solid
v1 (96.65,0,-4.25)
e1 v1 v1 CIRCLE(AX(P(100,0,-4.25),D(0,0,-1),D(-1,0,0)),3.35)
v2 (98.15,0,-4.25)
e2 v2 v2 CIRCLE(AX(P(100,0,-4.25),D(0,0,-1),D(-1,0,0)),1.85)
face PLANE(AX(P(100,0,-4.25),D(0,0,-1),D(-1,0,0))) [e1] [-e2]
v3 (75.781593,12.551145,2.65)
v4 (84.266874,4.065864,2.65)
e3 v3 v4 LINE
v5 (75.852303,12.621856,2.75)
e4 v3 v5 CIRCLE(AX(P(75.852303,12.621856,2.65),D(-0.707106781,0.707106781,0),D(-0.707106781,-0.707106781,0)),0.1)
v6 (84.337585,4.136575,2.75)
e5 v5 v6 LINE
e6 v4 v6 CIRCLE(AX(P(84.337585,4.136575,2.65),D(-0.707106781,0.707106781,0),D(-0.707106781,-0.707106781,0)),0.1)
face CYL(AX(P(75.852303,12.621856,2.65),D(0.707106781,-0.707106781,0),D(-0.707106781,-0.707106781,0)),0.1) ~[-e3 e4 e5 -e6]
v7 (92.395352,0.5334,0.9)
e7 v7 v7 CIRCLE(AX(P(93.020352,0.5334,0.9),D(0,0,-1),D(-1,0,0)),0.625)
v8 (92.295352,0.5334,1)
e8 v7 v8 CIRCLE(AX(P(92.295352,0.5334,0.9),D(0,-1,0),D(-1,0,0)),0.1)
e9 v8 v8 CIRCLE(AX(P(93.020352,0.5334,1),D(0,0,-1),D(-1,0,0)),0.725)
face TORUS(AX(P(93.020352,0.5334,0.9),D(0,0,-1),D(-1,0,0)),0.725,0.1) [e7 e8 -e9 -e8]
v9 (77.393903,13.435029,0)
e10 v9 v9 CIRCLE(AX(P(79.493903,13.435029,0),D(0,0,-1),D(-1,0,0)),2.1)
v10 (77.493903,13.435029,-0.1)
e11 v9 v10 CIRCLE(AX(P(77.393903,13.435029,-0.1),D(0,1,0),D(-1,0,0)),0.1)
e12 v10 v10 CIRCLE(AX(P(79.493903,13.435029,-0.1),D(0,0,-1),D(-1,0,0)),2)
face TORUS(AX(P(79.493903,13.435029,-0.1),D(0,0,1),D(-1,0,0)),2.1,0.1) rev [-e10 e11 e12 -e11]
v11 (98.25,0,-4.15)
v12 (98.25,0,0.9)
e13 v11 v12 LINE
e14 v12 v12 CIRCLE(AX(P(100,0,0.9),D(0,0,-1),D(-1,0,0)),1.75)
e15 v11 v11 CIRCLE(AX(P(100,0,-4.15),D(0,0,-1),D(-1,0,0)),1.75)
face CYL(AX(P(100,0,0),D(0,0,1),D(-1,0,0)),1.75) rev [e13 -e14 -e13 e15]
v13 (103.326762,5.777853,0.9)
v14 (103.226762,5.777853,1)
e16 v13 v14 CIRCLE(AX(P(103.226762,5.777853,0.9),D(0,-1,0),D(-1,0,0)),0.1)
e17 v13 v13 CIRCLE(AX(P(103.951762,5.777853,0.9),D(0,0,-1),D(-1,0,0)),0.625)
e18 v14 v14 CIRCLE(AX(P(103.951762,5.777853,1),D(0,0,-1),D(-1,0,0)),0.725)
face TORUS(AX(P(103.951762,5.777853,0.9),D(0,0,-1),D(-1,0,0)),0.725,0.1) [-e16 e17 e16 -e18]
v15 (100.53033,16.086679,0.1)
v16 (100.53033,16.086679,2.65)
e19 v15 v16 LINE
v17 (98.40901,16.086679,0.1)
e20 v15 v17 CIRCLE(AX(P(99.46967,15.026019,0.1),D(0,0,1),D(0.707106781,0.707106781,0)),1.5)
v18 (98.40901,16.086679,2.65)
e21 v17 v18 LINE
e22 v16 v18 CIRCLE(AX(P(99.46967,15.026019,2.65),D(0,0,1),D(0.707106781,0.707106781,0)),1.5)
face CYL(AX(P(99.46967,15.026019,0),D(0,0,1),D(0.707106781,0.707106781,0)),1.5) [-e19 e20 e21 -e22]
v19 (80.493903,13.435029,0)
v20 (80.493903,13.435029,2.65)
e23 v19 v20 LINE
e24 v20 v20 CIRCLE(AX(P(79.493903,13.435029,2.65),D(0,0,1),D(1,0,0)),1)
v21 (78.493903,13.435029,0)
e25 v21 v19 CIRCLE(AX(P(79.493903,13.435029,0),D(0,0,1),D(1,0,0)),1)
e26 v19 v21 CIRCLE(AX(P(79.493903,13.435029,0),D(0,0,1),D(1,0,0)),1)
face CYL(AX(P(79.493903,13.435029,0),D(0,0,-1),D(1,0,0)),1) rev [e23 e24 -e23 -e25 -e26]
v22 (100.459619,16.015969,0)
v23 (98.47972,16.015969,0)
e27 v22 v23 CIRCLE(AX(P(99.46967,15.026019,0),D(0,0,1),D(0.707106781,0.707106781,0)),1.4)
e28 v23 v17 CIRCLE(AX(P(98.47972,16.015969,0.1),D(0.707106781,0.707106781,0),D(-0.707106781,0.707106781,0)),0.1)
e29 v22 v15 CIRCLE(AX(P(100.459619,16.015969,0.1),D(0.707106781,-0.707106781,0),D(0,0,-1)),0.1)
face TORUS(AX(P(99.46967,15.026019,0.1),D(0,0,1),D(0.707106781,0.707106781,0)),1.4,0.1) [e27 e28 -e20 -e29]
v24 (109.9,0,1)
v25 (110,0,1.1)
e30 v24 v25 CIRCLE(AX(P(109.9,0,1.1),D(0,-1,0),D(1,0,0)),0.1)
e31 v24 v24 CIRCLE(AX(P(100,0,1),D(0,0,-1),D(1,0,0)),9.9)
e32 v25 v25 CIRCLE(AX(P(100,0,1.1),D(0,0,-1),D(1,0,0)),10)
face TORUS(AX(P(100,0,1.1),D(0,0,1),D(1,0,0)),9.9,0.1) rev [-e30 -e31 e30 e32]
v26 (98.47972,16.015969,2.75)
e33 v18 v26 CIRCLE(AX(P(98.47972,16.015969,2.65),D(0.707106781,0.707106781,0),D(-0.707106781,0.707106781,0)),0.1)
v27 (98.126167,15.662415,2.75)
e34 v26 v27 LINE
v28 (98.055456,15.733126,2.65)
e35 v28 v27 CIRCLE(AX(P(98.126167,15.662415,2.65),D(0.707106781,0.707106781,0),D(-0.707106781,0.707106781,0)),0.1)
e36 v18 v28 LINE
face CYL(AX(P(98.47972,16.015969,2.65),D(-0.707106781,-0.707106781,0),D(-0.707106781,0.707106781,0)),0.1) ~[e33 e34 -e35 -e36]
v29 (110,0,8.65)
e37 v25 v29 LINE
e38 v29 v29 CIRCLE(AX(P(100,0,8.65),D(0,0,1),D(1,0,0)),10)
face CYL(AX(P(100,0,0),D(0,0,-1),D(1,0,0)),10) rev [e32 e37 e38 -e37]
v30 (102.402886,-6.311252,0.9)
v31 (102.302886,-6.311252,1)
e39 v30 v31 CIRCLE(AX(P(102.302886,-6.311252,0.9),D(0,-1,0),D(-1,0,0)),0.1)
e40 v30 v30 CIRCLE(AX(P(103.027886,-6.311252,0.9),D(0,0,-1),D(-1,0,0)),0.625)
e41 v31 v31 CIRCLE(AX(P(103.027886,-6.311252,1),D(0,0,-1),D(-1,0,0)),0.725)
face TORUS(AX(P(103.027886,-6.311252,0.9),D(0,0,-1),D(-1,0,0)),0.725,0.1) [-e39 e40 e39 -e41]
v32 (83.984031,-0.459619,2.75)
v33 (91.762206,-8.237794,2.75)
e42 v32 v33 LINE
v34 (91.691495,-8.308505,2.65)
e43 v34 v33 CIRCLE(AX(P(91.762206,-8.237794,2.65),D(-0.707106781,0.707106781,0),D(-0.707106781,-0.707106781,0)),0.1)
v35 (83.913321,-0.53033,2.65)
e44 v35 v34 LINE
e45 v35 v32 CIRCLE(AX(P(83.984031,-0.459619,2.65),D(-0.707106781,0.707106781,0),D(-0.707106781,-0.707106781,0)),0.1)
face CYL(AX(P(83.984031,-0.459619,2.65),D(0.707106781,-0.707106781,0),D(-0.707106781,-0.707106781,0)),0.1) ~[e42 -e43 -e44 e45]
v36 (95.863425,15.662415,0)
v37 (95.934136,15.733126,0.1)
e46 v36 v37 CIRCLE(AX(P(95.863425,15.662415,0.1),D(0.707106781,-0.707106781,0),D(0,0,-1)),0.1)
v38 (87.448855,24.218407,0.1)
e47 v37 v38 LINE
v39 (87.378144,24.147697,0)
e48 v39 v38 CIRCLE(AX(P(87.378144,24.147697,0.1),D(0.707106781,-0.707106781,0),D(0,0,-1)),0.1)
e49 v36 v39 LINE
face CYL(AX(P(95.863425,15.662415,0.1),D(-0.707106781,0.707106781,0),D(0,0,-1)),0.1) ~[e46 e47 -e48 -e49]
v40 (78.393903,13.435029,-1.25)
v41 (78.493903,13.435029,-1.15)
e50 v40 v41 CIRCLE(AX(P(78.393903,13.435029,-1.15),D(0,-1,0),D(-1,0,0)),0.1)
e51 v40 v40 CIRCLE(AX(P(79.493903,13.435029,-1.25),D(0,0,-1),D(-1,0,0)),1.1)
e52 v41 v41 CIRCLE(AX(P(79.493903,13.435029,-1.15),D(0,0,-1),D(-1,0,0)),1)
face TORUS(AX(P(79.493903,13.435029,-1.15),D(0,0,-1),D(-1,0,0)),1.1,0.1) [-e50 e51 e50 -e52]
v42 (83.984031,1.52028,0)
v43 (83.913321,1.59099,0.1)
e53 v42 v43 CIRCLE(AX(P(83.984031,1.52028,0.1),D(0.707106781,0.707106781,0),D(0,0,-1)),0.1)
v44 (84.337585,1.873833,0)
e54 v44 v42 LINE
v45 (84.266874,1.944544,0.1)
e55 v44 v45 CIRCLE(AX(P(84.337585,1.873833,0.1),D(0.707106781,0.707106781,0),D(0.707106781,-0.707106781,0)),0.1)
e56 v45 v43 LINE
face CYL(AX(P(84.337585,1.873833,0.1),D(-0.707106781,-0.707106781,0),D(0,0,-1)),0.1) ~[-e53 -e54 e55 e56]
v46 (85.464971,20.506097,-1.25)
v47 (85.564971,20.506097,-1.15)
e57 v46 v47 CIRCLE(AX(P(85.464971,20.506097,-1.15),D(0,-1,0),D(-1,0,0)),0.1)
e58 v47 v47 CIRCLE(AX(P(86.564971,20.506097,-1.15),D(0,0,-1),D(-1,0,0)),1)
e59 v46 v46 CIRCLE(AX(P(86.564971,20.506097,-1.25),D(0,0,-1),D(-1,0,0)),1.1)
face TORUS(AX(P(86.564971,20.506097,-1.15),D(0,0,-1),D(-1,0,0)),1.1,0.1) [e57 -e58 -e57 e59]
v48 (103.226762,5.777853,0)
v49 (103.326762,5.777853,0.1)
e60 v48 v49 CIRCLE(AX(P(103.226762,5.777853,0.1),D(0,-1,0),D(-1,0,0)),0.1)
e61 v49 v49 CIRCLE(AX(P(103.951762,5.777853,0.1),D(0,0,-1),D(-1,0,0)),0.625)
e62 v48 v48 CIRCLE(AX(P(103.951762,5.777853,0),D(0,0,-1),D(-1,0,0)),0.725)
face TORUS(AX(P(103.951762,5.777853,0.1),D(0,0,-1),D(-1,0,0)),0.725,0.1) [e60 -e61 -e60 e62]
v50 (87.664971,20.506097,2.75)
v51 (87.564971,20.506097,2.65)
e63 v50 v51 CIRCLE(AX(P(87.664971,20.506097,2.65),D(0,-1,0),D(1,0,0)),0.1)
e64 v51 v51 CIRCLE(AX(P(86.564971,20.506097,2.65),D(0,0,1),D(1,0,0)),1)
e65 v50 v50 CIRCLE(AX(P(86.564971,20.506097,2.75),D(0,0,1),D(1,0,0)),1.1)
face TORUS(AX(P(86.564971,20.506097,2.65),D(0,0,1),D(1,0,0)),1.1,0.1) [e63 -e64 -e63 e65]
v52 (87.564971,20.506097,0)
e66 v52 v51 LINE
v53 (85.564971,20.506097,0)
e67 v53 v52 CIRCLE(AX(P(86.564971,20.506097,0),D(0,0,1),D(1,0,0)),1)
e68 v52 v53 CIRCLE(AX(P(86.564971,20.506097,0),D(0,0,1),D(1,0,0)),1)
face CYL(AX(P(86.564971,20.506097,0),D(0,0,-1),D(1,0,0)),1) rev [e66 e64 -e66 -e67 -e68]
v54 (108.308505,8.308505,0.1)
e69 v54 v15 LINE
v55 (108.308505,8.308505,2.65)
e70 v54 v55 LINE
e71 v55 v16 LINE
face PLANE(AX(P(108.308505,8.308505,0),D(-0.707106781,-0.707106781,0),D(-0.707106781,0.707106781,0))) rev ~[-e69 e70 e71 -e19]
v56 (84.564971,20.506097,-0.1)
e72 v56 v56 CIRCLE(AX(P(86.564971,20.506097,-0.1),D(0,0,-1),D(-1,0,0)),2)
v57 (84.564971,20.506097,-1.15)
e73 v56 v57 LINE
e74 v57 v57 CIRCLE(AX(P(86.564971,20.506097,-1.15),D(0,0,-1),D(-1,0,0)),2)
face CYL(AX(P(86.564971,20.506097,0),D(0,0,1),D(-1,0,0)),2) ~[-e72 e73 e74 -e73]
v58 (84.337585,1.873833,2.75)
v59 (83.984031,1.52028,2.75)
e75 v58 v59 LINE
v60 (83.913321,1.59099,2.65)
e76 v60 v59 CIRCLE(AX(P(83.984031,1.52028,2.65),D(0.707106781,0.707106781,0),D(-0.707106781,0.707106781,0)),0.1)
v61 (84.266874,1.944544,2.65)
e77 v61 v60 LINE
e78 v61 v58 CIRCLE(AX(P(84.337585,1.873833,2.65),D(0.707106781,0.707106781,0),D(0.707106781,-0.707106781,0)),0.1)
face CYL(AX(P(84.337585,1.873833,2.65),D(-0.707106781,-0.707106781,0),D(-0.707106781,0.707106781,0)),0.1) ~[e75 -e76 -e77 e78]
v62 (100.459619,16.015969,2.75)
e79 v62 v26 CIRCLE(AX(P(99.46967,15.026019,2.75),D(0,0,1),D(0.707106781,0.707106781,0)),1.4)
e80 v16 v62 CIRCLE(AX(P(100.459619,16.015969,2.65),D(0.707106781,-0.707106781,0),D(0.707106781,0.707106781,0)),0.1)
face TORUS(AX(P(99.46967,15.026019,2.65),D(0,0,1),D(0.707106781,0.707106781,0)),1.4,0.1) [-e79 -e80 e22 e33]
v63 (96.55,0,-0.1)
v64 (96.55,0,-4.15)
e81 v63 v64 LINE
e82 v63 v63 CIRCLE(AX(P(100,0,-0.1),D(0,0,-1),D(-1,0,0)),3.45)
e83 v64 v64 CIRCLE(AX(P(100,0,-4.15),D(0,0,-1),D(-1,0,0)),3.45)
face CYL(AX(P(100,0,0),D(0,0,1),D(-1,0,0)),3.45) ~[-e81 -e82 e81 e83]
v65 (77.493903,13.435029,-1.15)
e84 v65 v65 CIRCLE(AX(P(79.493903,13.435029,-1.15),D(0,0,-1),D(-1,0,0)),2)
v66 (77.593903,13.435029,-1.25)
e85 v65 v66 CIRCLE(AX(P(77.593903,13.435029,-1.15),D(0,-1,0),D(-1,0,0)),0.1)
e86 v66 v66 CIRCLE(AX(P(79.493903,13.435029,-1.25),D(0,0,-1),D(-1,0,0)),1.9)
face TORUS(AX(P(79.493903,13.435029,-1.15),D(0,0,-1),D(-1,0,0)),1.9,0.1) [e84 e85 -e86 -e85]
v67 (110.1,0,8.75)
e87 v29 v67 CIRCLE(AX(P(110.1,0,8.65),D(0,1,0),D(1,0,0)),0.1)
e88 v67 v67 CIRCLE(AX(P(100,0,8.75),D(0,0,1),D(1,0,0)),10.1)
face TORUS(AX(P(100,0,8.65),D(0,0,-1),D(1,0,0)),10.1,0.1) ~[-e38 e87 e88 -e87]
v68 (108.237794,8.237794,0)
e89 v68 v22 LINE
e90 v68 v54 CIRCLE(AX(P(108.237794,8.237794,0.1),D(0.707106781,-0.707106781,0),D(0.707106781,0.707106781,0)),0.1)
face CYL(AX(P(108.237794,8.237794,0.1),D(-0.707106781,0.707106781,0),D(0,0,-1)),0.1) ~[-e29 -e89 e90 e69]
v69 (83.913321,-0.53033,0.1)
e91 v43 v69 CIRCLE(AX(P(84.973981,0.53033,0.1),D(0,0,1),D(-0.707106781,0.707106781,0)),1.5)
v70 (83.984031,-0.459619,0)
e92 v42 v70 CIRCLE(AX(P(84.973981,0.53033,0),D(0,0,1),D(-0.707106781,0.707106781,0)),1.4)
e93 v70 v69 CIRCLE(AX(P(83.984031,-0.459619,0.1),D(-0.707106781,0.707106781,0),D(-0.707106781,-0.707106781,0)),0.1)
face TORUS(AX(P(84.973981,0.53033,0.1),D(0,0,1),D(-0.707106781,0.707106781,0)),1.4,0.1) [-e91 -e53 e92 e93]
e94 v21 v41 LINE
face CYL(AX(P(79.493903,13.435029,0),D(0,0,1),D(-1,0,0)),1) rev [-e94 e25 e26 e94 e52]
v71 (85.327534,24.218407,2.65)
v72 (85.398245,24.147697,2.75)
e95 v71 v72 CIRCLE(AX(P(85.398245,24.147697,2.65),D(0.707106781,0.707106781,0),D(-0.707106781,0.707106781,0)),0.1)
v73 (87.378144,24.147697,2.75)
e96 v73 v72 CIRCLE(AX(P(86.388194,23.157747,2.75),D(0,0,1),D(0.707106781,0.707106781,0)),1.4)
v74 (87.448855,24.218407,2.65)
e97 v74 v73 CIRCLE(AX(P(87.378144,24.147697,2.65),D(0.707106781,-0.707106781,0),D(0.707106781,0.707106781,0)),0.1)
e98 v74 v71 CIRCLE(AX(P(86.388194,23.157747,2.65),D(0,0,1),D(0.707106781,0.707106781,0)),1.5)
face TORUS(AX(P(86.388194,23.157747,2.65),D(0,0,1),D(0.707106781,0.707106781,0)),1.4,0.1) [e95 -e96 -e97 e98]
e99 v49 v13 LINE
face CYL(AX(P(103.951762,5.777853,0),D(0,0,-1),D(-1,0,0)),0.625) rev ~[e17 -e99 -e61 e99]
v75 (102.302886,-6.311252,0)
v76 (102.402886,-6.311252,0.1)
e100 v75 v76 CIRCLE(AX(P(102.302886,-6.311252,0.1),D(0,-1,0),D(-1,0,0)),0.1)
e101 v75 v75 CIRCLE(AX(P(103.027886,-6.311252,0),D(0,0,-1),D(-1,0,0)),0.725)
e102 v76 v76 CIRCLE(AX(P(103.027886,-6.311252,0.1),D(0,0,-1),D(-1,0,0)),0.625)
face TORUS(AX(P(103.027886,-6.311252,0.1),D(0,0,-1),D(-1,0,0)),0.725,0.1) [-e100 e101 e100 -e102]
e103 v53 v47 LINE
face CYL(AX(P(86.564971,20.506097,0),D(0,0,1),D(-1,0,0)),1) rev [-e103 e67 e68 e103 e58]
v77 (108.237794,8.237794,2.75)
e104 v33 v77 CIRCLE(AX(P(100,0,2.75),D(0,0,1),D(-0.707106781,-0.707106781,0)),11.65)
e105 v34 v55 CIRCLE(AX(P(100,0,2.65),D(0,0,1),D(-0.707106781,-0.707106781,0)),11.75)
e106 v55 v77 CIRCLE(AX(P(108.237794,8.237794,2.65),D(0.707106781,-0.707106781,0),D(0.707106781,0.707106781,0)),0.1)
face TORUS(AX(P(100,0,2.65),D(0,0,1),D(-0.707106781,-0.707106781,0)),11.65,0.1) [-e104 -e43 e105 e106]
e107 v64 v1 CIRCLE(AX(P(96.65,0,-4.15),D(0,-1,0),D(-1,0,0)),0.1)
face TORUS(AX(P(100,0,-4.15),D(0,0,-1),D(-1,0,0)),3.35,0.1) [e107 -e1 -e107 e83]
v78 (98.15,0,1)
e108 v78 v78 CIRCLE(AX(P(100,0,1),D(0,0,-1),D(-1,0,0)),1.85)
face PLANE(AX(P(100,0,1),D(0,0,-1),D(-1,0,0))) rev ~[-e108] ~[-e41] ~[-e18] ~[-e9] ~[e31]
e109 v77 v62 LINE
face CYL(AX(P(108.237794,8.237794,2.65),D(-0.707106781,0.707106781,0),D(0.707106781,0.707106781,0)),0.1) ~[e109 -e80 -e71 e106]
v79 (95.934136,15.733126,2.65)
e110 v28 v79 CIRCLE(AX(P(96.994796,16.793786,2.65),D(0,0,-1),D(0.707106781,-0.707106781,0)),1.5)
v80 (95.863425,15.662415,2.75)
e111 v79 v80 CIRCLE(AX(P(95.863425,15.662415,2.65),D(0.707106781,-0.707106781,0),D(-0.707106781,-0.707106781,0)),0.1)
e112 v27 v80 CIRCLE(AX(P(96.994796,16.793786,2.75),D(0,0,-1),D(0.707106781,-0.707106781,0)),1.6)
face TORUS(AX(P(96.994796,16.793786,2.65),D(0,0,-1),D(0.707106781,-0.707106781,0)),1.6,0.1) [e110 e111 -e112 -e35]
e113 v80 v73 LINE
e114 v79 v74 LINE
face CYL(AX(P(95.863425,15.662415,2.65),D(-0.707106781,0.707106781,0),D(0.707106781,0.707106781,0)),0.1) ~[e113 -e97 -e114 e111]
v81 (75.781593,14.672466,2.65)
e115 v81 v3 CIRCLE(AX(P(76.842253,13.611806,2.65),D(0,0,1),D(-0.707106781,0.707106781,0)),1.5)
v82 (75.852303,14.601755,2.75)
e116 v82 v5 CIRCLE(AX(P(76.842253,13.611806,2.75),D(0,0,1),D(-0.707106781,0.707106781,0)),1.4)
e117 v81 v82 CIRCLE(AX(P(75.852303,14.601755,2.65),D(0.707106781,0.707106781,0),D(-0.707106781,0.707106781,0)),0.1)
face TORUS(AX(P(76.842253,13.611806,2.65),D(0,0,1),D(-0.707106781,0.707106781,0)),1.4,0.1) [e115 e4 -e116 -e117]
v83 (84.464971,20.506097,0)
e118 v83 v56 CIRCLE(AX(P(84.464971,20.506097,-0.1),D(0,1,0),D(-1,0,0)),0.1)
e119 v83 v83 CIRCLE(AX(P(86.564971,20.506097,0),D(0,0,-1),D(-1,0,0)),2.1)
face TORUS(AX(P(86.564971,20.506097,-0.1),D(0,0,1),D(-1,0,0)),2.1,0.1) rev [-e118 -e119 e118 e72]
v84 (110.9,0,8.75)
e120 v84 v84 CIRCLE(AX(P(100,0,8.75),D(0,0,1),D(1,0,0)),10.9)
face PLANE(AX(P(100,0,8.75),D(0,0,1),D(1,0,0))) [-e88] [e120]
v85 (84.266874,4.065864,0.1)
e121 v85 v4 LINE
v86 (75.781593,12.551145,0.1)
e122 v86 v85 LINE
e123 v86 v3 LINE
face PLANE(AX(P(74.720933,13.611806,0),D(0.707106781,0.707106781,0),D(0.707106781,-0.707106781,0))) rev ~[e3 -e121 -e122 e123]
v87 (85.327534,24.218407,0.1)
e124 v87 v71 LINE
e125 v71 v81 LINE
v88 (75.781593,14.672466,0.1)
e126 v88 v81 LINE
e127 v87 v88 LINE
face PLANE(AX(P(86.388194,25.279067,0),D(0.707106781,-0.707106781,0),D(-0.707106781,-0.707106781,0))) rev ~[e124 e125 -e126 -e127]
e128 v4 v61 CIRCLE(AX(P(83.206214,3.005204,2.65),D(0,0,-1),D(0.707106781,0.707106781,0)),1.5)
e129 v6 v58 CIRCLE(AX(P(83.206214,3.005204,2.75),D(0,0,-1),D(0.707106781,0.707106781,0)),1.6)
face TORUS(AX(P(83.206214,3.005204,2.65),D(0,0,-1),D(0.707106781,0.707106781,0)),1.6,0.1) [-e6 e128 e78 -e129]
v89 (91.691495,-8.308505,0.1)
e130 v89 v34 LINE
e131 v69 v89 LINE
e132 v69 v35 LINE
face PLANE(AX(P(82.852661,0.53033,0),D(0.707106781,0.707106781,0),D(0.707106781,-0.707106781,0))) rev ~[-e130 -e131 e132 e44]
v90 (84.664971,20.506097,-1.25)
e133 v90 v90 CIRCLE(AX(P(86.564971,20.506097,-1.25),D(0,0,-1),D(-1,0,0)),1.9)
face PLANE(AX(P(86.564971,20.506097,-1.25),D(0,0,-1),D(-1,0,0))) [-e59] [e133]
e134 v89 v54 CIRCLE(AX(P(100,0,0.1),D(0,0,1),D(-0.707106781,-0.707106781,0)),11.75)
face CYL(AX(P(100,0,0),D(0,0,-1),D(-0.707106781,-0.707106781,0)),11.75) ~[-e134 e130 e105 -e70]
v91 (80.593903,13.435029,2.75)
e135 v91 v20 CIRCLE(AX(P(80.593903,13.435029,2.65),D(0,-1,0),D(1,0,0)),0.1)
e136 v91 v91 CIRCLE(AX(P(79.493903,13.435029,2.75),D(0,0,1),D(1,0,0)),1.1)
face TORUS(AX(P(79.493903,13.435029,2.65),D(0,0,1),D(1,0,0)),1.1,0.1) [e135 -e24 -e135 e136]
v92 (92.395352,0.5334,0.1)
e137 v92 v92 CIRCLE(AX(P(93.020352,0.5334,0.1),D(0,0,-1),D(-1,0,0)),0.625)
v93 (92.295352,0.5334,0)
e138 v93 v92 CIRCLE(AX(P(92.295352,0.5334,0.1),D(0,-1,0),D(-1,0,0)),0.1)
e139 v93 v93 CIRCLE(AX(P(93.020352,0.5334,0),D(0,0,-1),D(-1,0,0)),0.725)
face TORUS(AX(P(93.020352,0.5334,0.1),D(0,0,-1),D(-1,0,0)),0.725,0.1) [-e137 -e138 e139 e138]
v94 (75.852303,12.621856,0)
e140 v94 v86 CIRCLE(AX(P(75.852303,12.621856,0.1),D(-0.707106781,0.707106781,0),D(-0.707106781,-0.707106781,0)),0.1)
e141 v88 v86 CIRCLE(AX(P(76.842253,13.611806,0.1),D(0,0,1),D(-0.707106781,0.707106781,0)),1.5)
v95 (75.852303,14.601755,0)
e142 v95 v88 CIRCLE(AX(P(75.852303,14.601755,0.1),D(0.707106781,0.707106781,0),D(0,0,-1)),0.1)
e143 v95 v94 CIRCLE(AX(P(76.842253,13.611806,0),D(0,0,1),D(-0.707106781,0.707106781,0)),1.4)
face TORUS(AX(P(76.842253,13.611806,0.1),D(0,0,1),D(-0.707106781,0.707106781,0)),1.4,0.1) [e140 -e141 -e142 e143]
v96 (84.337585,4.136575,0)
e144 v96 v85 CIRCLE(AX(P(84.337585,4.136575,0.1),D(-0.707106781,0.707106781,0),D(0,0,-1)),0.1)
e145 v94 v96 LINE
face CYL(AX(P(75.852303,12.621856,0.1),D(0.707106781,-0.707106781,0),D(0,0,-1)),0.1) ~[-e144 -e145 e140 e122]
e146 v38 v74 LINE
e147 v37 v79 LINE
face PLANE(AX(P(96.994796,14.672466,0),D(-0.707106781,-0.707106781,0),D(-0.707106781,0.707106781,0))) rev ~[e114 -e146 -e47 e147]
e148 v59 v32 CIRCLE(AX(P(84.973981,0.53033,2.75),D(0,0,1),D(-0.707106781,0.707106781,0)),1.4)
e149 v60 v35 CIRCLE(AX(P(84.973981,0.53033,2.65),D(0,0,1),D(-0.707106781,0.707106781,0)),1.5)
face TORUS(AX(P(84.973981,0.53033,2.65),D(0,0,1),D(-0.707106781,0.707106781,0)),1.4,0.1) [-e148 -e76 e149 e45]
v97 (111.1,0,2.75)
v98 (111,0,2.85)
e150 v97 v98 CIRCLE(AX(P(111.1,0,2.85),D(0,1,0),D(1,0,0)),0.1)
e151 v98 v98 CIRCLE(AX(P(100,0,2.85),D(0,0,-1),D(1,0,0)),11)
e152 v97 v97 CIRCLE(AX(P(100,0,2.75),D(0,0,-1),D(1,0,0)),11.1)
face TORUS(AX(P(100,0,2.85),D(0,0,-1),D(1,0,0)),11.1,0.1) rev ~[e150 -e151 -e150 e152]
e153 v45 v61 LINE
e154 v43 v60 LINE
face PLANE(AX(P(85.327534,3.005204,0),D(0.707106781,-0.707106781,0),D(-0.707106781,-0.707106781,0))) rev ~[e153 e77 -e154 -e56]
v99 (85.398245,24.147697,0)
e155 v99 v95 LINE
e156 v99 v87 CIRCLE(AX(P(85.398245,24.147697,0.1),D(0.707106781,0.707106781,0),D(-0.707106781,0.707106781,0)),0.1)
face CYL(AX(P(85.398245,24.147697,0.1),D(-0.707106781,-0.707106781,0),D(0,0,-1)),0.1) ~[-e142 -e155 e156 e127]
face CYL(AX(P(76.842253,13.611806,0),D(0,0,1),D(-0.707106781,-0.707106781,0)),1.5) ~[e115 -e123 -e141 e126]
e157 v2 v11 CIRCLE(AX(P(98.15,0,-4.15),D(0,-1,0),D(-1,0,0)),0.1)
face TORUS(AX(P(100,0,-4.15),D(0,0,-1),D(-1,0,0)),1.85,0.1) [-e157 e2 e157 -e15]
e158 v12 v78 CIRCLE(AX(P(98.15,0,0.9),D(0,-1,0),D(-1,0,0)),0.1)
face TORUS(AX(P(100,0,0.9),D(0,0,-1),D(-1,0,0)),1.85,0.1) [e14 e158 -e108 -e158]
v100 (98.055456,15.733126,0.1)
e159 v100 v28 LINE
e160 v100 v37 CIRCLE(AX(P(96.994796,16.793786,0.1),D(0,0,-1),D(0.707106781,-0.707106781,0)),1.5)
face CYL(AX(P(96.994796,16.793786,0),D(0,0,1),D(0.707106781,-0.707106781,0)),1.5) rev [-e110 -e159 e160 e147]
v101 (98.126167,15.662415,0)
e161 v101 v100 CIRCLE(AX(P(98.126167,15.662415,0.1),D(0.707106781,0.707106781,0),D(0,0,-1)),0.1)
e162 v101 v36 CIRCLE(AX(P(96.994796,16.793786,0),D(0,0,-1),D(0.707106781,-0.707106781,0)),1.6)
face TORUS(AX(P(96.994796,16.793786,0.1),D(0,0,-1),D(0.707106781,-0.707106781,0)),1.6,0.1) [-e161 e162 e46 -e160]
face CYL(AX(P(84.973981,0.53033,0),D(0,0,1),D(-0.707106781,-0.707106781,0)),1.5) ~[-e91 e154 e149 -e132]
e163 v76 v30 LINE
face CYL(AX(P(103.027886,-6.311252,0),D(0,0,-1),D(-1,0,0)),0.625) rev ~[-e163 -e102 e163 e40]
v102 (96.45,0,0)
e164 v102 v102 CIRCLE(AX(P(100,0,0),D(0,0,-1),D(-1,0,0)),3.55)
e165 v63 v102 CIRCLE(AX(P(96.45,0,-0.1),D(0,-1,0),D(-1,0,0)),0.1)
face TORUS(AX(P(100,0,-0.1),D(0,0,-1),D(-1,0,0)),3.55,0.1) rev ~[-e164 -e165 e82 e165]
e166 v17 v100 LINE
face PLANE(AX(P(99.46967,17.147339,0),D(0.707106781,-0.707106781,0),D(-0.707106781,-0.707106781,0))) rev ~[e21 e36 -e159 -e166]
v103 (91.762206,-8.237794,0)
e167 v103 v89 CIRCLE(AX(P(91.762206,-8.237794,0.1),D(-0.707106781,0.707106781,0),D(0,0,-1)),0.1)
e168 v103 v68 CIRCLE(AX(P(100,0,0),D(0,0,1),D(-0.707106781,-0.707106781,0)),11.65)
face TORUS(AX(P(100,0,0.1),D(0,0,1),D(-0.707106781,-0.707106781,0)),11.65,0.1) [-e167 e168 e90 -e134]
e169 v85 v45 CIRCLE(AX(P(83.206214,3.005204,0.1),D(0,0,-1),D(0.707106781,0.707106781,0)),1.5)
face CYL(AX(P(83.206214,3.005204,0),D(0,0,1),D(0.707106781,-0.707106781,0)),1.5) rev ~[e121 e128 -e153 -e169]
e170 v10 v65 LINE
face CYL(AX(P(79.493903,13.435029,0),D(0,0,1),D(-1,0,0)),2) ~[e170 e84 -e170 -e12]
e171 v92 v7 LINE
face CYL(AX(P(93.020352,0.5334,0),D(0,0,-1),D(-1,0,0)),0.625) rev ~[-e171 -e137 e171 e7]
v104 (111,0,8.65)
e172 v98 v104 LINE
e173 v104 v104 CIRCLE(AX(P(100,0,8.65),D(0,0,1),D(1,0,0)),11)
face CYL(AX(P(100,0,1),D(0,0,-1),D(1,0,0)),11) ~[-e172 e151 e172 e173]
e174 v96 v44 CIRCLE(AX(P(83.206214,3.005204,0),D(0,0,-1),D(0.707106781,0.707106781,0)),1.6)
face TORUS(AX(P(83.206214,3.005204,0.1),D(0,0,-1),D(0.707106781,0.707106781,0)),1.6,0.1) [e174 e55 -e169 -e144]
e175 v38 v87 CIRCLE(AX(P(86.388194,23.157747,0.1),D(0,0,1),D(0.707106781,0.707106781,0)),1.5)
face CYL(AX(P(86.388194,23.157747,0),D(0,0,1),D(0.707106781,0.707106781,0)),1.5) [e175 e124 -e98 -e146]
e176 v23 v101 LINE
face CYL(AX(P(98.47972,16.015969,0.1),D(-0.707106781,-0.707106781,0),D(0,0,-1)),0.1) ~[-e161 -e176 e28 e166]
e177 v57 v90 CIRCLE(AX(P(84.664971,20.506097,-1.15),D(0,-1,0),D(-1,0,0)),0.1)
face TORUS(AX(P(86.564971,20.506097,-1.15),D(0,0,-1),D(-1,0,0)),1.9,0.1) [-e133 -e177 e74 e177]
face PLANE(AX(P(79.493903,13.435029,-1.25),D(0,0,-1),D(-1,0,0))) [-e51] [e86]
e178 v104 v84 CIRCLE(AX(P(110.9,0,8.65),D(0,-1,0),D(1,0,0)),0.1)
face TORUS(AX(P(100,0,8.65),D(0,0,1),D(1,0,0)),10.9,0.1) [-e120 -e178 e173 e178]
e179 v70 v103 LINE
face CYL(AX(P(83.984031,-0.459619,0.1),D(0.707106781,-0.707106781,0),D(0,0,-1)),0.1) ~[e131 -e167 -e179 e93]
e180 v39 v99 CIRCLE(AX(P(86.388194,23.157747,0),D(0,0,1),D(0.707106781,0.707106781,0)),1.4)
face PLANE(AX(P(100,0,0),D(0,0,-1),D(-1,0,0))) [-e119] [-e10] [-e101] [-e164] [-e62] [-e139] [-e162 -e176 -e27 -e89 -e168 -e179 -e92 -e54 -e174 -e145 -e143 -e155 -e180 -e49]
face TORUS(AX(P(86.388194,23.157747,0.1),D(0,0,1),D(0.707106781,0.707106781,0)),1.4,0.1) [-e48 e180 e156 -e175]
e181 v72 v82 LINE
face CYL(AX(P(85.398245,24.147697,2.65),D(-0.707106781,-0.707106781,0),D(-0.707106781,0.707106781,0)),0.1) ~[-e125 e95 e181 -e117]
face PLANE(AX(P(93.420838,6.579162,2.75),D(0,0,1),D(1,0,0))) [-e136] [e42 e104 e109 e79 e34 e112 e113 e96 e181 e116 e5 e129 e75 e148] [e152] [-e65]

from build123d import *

# Parameters (mm, degrees)
SKETCH6_R           = 10
SKETCH6_R_2         = 1
BOSS_EXTRUDE1_DEPTH = 2.75
SKETCH7_R           = 10
BOSS_EXTRUDE2_DEPTH = 1
SKETCH8_R           = 11
SKETCH8_R_2         = 10
BOSS_EXTRUDE3_DEPTH = 7.75
FILLET1_R           = 1.5
SKETCH11_R          = 2
SKETCH11_R_2        = 1
BOSS_EXTRUDE4_DEPTH = 1.25
SKETCH12_R          = 1.75
CUT_EXTRUDE1_DEPTH  = 1
SKETCH13_R          = 3.45
SKETCH13_R_2        = 1.75
BOSS_EXTRUDE5_DEPTH = 4.25
SKETCH14_R          = 0.625
CUT_EXTRUDE2_DEPTH  = 1
FILLET2_R           = 0.1


with BuildPart() as part:
    # Sketch6 → Boss-Extrude1 (new body)
    with BuildSketch(Plane.XY):
        with BuildLine():
            Line((86.388194462, 25.279067427), (74.720932573, 13.611805538))
            Line((74.720932573, 13.611805538), (85.32753429, 3.00520382))
            Line((85.32753429, 3.00520382), (82.852660556, 0.530330086))
            Line((82.852660556, 0.530330086), (91.691495321, -8.308504679))
            ThreePointArc((91.691495321, -8.308504679), (108.308504679, -8.308504679), (108.308504679, 8.308504679))
            Line((108.308504679, 8.308504679), (99.469669914, 17.147339444))
            Line((99.469669914, 17.147339444), (96.99479618, 14.67246571))
            Line((96.99479618, 14.67246571), (86.388194462, 25.279067427))
        make_face()
        with Locations((100, 0)):
            Circle(SKETCH6_R, mode=Mode.SUBTRACT)
        with Locations((86.564971157, 20.506096654)):
            Circle(SKETCH6_R_2, mode=Mode.SUBTRACT)
        with Locations((79.493903346, 13.435028843)):
            Circle(SKETCH6_R_2, mode=Mode.SUBTRACT)
    extrude(amount=BOSS_EXTRUDE1_DEPTH)



with BuildPart() as body_2:
    # Sketch7 → Boss-Extrude2 (new body)
    with BuildSketch(Plane(origin=(0, 0, 0), x_dir=(-1, 0, 0), z_dir=(0, 0, -1))):
        with Locations((-100, 0)):
            Circle(SKETCH7_R)
    extrude(amount=-BOSS_EXTRUDE2_DEPTH)


with BuildPart() as part_1:
    add(part.part)

    add(body_2.part)  # Boss-Extrude3 merges body 2
    # Sketch8 → Boss-Extrude3 (add)
    with BuildSketch(Plane.XY.offset(1)):
        with Locations((100, 0)):
            Circle(SKETCH8_R)
        with Locations((100, 0)):
            Circle(SKETCH8_R_2, mode=Mode.SUBTRACT)
    extrude(amount=BOSS_EXTRUDE3_DEPTH)

    # Fillet1
    fillet1_edges = [part_1.edges().sort_by_distance(p)[0] for p in [
        (96.99479618, 14.67246571, 1.375),
        (99.469669914, 17.147339444, 1.375),
        (82.852660556, 0.530330086, 1.375),
        (85.32753429, 3.00520382, 1.375),
        (74.720932573, 13.611805538, 1.375),
        (86.388194462, 25.279067427, 1.375),
    ]]
    fillet(fillet1_edges, radius=FILLET1_R)

    # Sketch11 → Boss-Extrude4 (add)
    with BuildSketch(Plane(origin=(0, 0, 0), x_dir=(-1, 0, 0), z_dir=(0, 0, -1))):
        with Locations((-86.564971157, 20.506096654)):
            Circle(SKETCH11_R)
        with Locations((-86.564971157, 20.506096654)):
            Circle(SKETCH11_R_2, mode=Mode.SUBTRACT)
        with Locations((-79.493903346, 13.435028843)):
            Circle(SKETCH11_R)
        with Locations((-79.493903346, 13.435028843)):
            Circle(SKETCH11_R_2, mode=Mode.SUBTRACT)
    extrude(amount=BOSS_EXTRUDE4_DEPTH)

    # Sketch12 → Cut-Extrude1 (cut)
    with BuildSketch(Plane(origin=(0, 0, 0), x_dir=(-1, 0, 0), z_dir=(0, 0, -1))):
        with Locations((-100, 0)):
            Circle(SKETCH12_R)
    extrude(amount=-CUT_EXTRUDE1_DEPTH, mode=Mode.SUBTRACT)

    # Sketch13 → Boss-Extrude5 (add)
    with BuildSketch(Plane(origin=(0, 0, 0), x_dir=(-1, 0, 0), z_dir=(0, 0, -1))):
        with Locations((-100, 0)):
            Circle(SKETCH13_R)
        with Locations((-100, 0)):
            Circle(SKETCH13_R_2, mode=Mode.SUBTRACT)
    extrude(amount=BOSS_EXTRUDE5_DEPTH)

    # Sketch14 → Cut-Extrude2 (cut)
    with BuildSketch(Plane(origin=(0, 0, 0), x_dir=(-1, 0, 0), z_dir=(0, 0, -1))):
        with Locations((-93.020352093, 0.533399557)):
            Circle(SKETCH14_R)
        with Locations((-103.027886387, -6.311252176)):
            Circle(SKETCH14_R)
        with Locations((-103.951761521, 5.777852619)):
            Circle(SKETCH14_R)
    extrude(amount=-CUT_EXTRUDE2_DEPTH, mode=Mode.SUBTRACT)

    # Fillet2
    fillet2_edges = [part_1.edges().sort_by_distance(p)[0] for p in [
        (81.493903346, 13.435028843, -1.25),
        (80.493903346, 13.435028843, -1.25),
        (101.75, 0, 1),
        (103.45, 0, 0),
        (103.45, 0, -4.25),
        (101.75, 0, -4.25),
        (93.645352093, 0.533399557, 0),
        (93.645352093, 0.533399557, 1),
        (103.652886387, -6.311252176, 0),
        (103.652886387, -6.311252176, 1),
        (104.576761521, 5.777852619, 0),
        (104.576761521, 5.777852619, 1),
        (108.308504679, -8.308504679, 2.75),
        (85.564971157, 20.506096654, 2.75),
        (104.419417382, 12.197591975, 2.75),
        (78.493903346, 13.435028843, 2.75),
        (89, 0, 2.75),
        (89, 0, 8.75),
        (90, 0, 8.75),
        (90, 0, 1),
        (91.691495321, 19.975766569, 0),
        (91.691495321, 19.975766569, 2.75),
        (98.232233047, 15.909902577, 0),
        (98.232233047, 15.909902577, 2.75),
        (87.802408025, -4.419417382, 0),
        (84.090097423, 1.767766953, 0),
        (80.024233431, 8.308504679, 0),
        (80.554563517, 19.445436483, 0),
        (86.388194462, 24.657747084, 0),
        (75.342252916, 13.611805538, 0),
        (83.4739809, 0.530330086, 0),
        (99.469669914, 16.5260191, 0),
        (80.554563517, 19.445436483, 2.75),
        (80.024233431, 8.308504679, 2.75),
        (84.090097423, 1.767766953, 2.75),
        (87.802408025, -4.419417382, 2.75),
        (86.388194462, 24.657747084, 2.75),
        (75.342252916, 13.611805538, 2.75),
        (83.4739809, 0.530330086, 2.75),
        (99.469669914, 16.5260191, 2.75),
        (96.99479618, 15.293786053, 0),
        (96.99479618, 15.293786053, 2.75),
        (84.706213947, 3.00520382, 0),
        (84.706213947, 3.00520382, 2.75),
        (104.419417382, 12.197591975, 0),
        (88.564971157, 20.506096654, 0),
        (108.308504679, -8.308504679, 0),
        (88.564971157, 20.506096654, -1.25),
        (87.564971157, 20.506096654, -1.25),
        (81.493903346, 13.435028843, 0),
    ]]
    fillet(fillet2_edges, radius=FILLET2_R)


solid = part_1.part
